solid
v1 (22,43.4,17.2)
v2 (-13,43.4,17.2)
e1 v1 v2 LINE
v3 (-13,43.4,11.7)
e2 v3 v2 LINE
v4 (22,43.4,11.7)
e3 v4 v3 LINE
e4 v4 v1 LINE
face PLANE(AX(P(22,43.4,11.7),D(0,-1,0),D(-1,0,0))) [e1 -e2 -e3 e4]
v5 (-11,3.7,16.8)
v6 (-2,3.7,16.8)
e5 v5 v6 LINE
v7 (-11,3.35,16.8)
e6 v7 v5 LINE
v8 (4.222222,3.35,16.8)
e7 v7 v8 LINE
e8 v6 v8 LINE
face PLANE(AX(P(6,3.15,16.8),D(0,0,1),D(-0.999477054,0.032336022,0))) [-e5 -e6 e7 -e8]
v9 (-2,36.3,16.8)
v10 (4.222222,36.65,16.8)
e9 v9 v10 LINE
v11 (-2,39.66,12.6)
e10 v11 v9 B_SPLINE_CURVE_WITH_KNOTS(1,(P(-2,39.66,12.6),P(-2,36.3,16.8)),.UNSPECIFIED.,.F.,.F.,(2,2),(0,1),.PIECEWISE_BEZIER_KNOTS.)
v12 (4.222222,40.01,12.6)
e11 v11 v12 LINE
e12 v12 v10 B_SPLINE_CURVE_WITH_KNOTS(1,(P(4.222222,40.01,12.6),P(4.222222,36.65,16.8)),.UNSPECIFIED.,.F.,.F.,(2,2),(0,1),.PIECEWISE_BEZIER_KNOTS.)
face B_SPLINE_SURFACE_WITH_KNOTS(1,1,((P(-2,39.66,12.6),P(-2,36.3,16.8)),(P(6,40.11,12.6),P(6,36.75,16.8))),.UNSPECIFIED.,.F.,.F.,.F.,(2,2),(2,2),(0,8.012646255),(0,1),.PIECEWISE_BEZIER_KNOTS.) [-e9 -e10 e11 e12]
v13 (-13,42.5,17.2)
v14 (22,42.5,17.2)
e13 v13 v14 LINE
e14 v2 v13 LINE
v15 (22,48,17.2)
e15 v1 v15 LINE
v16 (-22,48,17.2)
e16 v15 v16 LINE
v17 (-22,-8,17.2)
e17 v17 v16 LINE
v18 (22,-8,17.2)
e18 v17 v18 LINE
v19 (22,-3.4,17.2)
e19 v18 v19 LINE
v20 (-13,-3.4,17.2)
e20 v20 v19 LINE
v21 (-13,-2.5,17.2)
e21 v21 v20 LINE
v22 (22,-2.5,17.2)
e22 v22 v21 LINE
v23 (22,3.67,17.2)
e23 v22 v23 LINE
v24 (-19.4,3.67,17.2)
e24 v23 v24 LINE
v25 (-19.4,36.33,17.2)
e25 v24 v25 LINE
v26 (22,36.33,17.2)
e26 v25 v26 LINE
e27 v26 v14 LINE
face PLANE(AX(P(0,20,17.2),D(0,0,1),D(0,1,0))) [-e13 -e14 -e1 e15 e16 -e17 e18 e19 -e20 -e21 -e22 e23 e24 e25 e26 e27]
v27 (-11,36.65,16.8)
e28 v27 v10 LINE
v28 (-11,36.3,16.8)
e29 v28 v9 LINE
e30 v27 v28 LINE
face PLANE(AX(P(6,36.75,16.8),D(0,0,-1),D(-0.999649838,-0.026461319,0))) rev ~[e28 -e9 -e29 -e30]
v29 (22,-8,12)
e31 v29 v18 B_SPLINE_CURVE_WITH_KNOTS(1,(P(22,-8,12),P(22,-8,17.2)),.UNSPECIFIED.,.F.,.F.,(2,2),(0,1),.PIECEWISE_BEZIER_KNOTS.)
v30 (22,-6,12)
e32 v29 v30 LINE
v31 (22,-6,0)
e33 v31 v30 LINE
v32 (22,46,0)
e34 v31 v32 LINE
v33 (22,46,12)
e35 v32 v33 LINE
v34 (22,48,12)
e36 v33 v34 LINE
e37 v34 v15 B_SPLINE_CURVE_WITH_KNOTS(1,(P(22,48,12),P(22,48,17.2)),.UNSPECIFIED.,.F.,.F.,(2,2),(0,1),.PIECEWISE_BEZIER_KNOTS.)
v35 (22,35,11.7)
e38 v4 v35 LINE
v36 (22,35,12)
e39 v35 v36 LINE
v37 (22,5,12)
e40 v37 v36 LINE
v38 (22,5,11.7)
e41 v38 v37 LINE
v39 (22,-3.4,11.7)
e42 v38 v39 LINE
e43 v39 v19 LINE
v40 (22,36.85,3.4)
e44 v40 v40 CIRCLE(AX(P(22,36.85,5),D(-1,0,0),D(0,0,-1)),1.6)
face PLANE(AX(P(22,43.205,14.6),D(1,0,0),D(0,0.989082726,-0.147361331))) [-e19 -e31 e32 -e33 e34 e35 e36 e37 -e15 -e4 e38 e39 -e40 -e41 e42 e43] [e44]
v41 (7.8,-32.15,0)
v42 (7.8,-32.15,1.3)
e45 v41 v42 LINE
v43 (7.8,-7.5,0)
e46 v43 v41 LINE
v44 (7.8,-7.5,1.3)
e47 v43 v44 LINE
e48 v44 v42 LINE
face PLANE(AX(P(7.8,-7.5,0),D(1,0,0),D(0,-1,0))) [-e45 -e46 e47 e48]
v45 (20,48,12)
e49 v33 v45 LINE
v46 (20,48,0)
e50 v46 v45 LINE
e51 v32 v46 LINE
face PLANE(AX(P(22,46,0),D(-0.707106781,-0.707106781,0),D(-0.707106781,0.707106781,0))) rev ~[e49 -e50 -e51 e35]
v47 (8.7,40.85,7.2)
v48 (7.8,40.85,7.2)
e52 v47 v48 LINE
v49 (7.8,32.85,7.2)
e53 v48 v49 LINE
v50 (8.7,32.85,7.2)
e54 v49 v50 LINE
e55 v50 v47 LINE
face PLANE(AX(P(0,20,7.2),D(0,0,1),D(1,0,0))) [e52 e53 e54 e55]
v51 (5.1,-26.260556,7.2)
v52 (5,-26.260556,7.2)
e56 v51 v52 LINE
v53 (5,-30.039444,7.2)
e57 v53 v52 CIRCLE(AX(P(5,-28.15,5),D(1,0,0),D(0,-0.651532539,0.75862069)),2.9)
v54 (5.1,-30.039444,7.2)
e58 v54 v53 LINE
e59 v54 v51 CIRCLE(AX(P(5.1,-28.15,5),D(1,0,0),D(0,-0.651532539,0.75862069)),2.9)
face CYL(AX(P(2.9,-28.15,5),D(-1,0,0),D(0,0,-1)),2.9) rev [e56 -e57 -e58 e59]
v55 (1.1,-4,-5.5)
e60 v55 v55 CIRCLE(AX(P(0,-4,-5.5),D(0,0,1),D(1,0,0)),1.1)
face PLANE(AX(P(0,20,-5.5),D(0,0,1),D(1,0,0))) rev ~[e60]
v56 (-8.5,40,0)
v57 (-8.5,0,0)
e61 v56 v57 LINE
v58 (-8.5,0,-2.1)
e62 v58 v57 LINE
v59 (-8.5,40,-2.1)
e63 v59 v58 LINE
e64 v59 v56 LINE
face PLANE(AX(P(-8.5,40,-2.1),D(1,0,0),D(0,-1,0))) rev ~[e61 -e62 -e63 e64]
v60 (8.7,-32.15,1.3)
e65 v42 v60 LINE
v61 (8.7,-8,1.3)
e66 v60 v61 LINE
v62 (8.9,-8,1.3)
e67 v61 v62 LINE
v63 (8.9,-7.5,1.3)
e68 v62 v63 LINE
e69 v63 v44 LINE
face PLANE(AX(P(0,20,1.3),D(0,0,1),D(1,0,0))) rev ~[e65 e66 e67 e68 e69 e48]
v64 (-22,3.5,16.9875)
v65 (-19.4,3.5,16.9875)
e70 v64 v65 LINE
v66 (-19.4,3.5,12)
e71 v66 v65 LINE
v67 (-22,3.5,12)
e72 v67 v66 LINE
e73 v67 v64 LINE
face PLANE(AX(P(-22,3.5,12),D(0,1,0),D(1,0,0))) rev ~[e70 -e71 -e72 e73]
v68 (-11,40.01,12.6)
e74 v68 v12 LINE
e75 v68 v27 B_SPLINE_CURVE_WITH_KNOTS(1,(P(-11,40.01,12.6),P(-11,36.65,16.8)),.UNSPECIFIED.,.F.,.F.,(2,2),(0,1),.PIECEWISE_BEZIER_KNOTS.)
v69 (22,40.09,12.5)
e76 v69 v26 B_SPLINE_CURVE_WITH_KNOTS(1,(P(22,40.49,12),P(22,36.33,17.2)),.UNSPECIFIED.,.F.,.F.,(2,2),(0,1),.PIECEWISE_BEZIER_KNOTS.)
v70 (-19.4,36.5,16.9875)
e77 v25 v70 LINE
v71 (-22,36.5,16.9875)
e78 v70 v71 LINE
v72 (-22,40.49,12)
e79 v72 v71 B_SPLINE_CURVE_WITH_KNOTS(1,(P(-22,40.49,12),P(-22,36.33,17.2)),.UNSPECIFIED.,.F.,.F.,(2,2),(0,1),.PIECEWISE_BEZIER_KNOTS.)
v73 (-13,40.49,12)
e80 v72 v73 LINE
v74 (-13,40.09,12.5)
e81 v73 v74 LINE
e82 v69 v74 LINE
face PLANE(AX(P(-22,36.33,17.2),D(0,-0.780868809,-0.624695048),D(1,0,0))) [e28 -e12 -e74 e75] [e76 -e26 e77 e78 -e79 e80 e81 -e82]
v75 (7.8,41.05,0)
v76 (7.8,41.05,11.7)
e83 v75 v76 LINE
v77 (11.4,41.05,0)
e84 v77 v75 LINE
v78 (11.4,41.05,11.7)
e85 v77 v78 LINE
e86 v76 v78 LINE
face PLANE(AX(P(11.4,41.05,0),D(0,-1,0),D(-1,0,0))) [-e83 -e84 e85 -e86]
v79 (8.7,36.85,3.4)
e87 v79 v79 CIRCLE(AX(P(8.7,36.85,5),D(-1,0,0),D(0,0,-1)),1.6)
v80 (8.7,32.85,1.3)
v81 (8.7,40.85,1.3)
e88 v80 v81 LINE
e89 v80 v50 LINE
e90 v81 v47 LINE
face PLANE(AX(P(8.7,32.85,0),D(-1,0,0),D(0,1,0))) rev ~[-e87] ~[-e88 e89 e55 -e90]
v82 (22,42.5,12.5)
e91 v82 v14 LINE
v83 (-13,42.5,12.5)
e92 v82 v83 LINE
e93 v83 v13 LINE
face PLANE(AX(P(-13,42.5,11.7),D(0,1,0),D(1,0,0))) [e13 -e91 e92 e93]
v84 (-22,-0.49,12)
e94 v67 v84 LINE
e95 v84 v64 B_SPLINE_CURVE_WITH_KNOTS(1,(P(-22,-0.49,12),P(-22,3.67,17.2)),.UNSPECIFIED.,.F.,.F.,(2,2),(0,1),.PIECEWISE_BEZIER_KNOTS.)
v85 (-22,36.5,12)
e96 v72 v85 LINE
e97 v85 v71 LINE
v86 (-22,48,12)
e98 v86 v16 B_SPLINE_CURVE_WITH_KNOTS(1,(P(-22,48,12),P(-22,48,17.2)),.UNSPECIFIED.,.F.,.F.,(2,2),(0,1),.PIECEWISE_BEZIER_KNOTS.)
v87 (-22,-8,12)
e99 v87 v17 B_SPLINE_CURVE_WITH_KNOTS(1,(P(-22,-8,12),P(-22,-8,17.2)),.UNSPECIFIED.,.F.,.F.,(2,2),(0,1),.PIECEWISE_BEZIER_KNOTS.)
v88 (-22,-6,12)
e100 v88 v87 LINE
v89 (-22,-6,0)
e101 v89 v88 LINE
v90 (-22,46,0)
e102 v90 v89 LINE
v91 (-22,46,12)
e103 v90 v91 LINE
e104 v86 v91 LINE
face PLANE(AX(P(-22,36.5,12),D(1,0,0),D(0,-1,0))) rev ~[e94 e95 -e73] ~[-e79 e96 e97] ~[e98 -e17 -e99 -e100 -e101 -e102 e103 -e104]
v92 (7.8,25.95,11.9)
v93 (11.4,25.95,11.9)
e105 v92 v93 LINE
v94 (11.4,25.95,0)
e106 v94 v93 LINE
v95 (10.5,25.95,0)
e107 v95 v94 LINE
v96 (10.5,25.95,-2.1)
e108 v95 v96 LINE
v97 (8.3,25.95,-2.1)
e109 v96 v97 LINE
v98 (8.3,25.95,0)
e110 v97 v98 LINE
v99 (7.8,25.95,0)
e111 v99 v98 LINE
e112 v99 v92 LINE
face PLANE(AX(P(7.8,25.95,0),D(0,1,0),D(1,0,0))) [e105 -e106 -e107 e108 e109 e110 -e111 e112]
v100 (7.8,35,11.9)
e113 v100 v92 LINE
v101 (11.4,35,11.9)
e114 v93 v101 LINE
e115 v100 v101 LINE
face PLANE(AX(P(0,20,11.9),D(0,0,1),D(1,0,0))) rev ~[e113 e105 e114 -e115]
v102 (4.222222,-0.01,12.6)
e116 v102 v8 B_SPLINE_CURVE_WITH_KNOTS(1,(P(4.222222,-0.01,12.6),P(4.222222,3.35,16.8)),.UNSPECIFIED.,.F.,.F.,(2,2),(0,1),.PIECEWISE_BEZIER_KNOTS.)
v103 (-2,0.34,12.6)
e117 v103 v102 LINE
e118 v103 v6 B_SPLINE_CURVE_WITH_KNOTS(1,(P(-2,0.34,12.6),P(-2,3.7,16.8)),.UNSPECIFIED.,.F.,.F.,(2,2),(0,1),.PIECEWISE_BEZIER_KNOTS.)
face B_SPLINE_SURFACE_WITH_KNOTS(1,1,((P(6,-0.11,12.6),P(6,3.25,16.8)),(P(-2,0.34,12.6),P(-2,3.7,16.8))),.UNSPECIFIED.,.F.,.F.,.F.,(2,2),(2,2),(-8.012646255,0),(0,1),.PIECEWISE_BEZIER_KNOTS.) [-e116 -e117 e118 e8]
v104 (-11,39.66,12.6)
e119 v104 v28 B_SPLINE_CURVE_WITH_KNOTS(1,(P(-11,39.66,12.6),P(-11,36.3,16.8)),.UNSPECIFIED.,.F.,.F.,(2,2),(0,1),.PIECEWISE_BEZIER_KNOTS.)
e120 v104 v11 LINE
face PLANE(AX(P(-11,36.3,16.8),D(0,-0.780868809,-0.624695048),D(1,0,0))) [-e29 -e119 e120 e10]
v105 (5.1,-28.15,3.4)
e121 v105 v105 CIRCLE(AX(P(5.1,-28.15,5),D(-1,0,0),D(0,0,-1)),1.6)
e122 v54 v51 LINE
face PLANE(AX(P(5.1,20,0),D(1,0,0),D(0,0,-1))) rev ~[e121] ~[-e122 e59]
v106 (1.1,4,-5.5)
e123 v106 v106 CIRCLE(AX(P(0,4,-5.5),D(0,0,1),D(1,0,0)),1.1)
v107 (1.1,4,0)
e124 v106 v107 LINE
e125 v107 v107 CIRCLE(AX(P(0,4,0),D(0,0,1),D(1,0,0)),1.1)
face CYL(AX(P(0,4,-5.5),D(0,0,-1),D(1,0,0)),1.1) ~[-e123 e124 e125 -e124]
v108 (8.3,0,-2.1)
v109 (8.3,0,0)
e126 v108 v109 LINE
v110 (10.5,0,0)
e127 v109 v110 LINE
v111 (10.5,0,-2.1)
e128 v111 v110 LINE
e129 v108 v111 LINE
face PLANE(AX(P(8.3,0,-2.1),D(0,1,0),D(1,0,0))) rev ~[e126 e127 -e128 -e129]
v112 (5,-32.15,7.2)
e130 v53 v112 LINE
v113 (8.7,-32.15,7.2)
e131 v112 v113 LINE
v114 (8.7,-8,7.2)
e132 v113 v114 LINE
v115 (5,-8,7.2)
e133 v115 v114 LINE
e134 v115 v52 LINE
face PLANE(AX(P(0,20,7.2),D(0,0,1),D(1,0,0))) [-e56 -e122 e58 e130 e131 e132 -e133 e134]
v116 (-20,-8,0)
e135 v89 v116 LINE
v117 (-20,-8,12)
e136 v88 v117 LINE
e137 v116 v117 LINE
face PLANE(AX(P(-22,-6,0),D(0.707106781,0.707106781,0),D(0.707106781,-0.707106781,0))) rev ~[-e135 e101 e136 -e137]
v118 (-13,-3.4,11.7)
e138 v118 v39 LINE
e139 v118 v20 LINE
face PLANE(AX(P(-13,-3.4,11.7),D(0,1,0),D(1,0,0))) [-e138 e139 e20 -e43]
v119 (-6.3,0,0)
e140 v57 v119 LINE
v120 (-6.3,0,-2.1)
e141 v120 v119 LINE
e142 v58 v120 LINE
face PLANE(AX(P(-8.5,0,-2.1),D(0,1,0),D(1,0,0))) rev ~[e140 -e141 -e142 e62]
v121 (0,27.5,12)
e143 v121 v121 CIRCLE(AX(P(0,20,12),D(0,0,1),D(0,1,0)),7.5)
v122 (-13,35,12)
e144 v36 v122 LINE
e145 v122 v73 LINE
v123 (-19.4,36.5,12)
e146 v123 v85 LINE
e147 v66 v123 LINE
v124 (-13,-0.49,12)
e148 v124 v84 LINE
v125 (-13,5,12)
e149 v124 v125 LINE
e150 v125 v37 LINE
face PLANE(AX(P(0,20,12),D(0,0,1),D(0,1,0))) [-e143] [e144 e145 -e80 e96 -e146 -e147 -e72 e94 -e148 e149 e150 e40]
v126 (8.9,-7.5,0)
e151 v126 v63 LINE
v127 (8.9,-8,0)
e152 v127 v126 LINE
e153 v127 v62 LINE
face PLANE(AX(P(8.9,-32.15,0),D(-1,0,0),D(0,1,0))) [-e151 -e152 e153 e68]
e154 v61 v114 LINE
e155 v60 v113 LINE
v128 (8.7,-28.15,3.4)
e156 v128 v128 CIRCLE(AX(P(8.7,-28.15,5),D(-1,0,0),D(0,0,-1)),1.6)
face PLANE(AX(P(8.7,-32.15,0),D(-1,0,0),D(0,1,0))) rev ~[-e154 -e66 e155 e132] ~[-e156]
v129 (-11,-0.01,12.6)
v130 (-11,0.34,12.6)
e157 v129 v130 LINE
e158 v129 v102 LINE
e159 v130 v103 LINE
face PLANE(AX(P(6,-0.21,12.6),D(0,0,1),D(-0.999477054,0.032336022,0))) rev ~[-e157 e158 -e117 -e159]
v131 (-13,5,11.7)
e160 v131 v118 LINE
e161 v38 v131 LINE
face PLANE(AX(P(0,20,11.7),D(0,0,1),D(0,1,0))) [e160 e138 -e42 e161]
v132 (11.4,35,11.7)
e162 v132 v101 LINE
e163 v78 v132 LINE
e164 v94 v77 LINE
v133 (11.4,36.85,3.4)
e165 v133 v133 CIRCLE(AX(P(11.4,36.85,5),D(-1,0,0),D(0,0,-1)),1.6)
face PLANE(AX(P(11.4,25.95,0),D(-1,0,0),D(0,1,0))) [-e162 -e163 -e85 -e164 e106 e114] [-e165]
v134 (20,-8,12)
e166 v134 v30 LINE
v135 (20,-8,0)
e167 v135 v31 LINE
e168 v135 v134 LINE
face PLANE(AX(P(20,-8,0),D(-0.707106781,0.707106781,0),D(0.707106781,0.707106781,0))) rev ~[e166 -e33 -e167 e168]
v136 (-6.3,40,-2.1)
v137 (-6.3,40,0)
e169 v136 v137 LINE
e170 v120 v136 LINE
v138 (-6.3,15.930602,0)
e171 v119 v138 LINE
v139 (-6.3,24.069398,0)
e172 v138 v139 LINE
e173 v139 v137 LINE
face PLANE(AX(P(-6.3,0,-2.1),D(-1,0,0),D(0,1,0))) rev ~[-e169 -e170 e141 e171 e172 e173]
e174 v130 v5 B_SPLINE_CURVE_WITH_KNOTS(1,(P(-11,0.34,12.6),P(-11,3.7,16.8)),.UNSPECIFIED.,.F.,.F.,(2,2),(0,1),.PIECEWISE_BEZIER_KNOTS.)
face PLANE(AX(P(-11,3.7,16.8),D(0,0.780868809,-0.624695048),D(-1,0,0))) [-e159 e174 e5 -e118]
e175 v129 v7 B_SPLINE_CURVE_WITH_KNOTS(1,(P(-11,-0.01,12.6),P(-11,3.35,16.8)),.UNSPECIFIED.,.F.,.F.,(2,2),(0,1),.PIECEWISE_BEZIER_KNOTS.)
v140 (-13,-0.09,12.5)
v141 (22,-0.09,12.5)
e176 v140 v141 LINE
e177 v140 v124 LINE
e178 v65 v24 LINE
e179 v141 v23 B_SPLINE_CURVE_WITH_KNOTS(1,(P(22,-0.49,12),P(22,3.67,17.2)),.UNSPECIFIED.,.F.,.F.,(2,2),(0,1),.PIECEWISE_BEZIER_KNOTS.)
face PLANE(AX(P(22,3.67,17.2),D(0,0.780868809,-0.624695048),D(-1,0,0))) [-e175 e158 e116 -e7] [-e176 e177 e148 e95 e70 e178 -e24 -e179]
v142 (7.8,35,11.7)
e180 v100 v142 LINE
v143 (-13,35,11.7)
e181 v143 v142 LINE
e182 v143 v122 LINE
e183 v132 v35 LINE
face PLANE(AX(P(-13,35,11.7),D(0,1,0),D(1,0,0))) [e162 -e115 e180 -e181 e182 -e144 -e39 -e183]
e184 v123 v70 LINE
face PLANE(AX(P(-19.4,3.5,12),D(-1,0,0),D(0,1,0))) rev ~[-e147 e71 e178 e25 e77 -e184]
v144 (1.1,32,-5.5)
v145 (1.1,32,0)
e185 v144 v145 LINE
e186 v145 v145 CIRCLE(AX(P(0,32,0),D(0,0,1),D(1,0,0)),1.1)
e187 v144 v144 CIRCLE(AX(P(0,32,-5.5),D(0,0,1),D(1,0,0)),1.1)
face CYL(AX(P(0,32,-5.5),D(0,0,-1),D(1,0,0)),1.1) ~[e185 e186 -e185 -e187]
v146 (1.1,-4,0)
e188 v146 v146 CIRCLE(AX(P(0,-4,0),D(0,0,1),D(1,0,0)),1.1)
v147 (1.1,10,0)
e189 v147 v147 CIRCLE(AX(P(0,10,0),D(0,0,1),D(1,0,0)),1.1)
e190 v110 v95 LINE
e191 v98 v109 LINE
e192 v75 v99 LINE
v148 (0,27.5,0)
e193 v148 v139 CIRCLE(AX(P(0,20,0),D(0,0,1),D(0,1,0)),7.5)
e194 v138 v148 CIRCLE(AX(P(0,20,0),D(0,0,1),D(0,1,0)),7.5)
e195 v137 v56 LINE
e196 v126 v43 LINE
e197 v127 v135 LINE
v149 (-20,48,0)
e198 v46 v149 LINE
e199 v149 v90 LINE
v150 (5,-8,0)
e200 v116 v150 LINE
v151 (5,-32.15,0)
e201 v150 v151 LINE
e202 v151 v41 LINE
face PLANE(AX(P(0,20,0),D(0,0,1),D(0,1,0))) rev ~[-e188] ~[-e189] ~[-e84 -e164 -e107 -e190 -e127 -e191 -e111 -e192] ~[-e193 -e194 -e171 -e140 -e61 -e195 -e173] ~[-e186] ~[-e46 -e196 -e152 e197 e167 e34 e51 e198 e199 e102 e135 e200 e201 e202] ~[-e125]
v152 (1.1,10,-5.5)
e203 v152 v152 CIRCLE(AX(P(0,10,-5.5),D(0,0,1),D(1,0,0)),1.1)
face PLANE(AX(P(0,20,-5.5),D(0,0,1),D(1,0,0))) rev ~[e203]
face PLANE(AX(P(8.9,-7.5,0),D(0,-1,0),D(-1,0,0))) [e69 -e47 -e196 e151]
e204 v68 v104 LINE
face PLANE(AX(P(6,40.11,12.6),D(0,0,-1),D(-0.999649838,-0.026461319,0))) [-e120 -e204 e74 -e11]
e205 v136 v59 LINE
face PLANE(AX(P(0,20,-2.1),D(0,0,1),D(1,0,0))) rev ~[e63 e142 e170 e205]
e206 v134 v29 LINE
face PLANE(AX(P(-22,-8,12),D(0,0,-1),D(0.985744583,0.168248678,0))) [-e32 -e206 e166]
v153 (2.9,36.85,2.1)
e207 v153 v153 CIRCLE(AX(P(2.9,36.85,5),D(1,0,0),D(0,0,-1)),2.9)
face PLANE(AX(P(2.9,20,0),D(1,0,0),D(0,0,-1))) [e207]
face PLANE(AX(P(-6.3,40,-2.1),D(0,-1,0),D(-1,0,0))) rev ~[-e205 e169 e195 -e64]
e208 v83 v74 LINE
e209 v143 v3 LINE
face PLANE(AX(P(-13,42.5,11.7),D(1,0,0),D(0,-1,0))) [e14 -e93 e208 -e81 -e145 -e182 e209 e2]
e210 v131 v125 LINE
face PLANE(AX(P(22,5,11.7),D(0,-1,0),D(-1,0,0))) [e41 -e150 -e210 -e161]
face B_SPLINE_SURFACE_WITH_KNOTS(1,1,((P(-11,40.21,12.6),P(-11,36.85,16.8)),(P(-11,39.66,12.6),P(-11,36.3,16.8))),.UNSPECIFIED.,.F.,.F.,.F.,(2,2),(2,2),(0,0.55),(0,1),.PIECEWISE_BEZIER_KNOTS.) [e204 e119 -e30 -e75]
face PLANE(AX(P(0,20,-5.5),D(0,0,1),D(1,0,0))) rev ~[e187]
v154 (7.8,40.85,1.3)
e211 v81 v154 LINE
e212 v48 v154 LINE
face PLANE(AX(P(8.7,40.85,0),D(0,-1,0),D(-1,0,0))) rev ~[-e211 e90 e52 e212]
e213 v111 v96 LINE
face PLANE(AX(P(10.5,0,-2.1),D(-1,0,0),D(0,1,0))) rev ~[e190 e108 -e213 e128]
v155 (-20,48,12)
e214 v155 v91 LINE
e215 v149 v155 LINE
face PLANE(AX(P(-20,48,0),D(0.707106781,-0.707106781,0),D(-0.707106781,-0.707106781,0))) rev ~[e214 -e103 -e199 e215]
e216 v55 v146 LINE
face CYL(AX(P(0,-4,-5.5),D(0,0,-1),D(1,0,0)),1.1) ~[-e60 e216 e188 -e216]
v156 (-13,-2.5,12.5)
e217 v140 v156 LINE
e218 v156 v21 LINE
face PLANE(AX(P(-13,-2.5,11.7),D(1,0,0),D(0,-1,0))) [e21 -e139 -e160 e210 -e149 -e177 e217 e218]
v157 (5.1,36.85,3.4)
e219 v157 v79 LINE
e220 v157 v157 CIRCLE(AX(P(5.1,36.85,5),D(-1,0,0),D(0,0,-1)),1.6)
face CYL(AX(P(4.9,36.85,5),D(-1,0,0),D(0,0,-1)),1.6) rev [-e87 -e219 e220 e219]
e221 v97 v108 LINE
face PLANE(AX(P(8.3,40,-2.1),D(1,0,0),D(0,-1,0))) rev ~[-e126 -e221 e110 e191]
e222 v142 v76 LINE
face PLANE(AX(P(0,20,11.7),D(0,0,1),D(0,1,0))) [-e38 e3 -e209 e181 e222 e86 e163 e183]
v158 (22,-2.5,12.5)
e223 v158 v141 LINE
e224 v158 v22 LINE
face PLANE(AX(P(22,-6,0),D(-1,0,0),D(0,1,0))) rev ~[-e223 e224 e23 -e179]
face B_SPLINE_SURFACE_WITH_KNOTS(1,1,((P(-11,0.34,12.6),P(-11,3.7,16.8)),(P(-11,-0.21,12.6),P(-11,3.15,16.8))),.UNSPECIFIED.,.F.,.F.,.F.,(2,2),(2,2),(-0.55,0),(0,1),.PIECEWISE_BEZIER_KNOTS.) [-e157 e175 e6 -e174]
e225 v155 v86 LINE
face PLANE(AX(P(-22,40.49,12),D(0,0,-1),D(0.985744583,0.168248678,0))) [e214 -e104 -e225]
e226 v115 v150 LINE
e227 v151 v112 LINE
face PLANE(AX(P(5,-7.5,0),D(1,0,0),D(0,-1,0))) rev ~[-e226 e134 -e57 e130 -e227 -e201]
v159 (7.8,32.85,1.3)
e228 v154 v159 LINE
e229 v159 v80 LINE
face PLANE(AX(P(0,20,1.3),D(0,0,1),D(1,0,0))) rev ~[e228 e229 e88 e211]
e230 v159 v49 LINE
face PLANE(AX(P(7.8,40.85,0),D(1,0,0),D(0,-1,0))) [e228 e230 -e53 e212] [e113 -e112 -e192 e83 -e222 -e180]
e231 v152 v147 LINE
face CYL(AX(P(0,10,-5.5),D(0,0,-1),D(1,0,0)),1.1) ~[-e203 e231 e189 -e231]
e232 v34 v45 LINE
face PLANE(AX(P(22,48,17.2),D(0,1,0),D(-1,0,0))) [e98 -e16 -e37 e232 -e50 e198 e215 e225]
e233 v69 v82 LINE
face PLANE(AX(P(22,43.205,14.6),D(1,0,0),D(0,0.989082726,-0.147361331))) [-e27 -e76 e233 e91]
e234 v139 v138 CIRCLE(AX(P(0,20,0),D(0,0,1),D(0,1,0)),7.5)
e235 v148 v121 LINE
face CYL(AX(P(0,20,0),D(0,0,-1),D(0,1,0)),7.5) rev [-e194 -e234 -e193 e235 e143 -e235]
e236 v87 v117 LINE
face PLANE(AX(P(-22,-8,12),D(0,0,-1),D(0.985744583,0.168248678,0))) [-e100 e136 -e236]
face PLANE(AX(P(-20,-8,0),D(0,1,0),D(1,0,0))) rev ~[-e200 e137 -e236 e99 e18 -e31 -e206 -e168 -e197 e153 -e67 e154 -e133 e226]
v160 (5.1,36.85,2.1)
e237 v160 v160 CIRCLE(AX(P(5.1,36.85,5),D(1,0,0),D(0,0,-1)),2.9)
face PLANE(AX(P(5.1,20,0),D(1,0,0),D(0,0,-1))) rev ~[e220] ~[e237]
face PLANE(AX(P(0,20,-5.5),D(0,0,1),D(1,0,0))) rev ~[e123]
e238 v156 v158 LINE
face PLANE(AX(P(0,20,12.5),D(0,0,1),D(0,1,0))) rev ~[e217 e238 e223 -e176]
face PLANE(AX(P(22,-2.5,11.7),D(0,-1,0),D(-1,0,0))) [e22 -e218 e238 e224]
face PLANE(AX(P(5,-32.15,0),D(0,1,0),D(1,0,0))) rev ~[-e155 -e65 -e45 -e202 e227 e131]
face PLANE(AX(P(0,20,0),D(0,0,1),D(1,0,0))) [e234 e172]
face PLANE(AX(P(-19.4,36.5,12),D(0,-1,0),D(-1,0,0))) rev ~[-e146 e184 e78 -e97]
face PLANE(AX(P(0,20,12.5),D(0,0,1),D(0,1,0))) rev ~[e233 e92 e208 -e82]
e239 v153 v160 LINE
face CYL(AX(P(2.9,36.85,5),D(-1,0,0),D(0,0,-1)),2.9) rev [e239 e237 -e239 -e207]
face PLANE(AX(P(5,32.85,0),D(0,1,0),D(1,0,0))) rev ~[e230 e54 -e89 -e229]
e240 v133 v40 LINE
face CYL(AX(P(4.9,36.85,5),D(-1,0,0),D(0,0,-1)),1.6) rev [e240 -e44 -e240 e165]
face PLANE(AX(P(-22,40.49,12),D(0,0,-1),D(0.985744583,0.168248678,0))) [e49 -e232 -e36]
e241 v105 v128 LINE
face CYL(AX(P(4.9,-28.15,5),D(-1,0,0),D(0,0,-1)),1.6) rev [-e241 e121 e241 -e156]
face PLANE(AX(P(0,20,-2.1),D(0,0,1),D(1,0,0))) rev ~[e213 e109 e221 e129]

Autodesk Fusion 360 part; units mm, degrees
ref_plane "工作平面1" through (0, 0, 0) normal (0, 0, 1) x (1, 0, 0)
sketch "草图1" plane through (0, 0, 0) normal (0, 0, 1) x (1, 0, 0)
  line L0 (-26, -22) -> (26, -22)
  line L1 (26, -22) -> (28, -20)
  line L2 (28, -20) -> (28, 20)
  line L3 (28, 20) -> (26, 22)
  line L4 (26, 22) -> (-26, 22)
  line L5 (-26, 22) -> (-28, 20)
  line L6 (-28, 20) -> (-28, -20)
  line L7 (-28, -20) -> (-26, -22)
extrude "56 x 44 x 7 platform" add sketch "草图1" along normal blind 12
ref_plane "工作平面2" through (0, 0, 12) normal (0, 0, 1) x (1, 0, 0)
sketch "草图2" plane through (0, 0, 12) normal (0, 0, 1) x (1, 0, 0)
  line L0 (-28, -22) -> (-20.49, -22)
  line L1 (-20.49, -22) -> (-20.49, 22)
  line L2 (-20.49, 22) -> (-28, 22)
  line L3 (-28, 22) -> (-28, -22)
ref_plane "工作平面3" through (0, 0, 17.2) normal (0, 0, 1) x (1, 0, 0)
sketch "草图3" plane through (0, 0, 17.2) normal (0, 0, 1) x (1, 0, 0)
  line L0 (-28, -22) -> (-16.33, -22)
  line L1 (-16.33, -22) -> (-16.33, 22)
  line L2 (-16.33, 22) -> (-28, 22)
  line L3 (-28, 22) -> (-28, -22)
loft "Dovetail retaining rail 0.8 to 1 -1" add profiles "草图2", "草图3" section 1 section 2
ref_plane "工作平面4" through (0, 0, 11.7) normal (0, 0, 1) x (1, 0, 0)
sketch "草图4" plane through (0, 0, 11.7) normal (0, 0, 1) x (1, 0, 0)
  line L0 (-23.4, -22) -> (-22.5, -22)
  line L1 (-22.5, -22) -> (-22.5, 13)
  line L2 (-22.5, 13) -> (-23.4, 13)
  line L3 (-23.4, 13) -> (-23.4, -22)
extrude "0.9 mm longitudinal flexure slot -1" cut sketch "草图4" along normal blind 5.8
ref_plane "工作平面5" through (0, 0, 11.7) normal (0, 0, 1) x (1, 0, 0)
sketch "草图5" plane through (0, 0, 11.7) normal (0, 0, 1) x (1, 0, 0)
  line L0 (-22.5, -22) -> (-15, -22)
  line L1 (-15, -22) -> (-15, 13)
  line L2 (-15, 13) -> (-22.5, 13)
  line L3 (-22.5, 13) -> (-22.5, -22)
extrude "0.8 mm flexure underside relief -1" cut sketch "草图5" along normal blind 0.8
ref_plane "工作平面6" through (0, 0, 12.6) normal (0, 0, 1) x (1, 0, 0)
sketch "草图6" plane through (0, 0, 12.6) normal (0, 0, 1) x (1, 0, 0)
  line L0 (-20.21, -6) -> (-20.21, 11)
  line L1 (-20.21, 11) -> (-19.66, 11)
  line L2 (-19.66, 11) -> (-19.66, 2)
  line L3 (-19.66, 2) -> (-20.11, -6)
  line L4 (-20.11, -6) -> (-20.21, -6)
ref_plane "工作平面7" through (0, 0, 16.8) normal (0, 0, 1) x (1, 0, 0)
sketch "草图7" plane through (0, 0, 16.8) normal (0, 0, 1) x (1, 0, 0)
  line L0 (-16.85, -6) -> (-16.85, 11)
  line L1 (-16.85, 11) -> (-16.3, 11)
  line L2 (-16.3, 11) -> (-16.3, 2)
  line L3 (-16.3, 2) -> (-16.75, -6)
  line L4 (-16.75, -6) -> (-16.85, -6)
loft "Tapered friction contact rib -1" add profiles "草图6", "草图7" section 1 section 2
ref_plane "工作平面8" through (0, 0, 12) normal (0, 0, 1) x (1, 0, 0)
sketch "草图8" plane through (0, 0, 12) normal (0, 0, 1) x (1, 0, 0)
  line L0 (20.49, -22) -> (28, -22)
  line L1 (28, -22) -> (28, 22)
  line L2 (28, 22) -> (20.49, 22)
  line L3 (20.49, 22) -> (20.49, -22)
ref_plane "工作平面9" through (0, 0, 17.2) normal (0, 0, 1) x (1, 0, 0)
sketch "草图9" plane through (0, 0, 17.2) normal (0, 0, 1) x (1, 0, 0)
  line L0 (16.33, -22) -> (28, -22)
  line L1 (28, -22) -> (28, 22)
  line L2 (28, 22) -> (16.33, 22)
  line L3 (16.33, 22) -> (16.33, -22)
loft "Dovetail retaining rail 0.8 to 1 1" add profiles "草图8", "草图9" section 1 section 2
ref_plane "工作平面10" through (0, 0, 11.7) normal (0, 0, 1) x (1, 0, 0)
sketch "草图10" plane through (0, 0, 11.7) normal (0, 0, 1) x (1, 0, 0)
  line L0 (22.5, -22) -> (23.4, -22)
  line L1 (23.4, -22) -> (23.4, 13)
  line L2 (23.4, 13) -> (22.5, 13)
  line L3 (22.5, 13) -> (22.5, -22)
extrude "0.9 mm longitudinal flexure slot 1" cut sketch "草图10" along normal blind 5.8
ref_plane "工作平面11" through (0, 0, 11.7) normal (0, 0, 1) x (1, 0, 0)
sketch "草图11" plane through (0, 0, 11.7) normal (0, 0, 1) x (1, 0, 0)
  line L0 (15, -22) -> (22.5, -22)
  line L1 (22.5, -22) -> (22.5, 13)
  line L2 (22.5, 13) -> (15, 13)
  line L3 (15, 13) -> (15, -22)
extrude "0.8 mm flexure underside relief 1" cut sketch "草图11" along normal blind 0.8
ref_plane "工作平面12" through (0, 0, 12.6) normal (0, 0, 1) x (1, 0, 0)
sketch "草图12" plane through (0, 0, 12.6) normal (0, 0, 1) x (1, 0, 0)
  line L0 (20.21, -6) -> (20.21, 11)
  line L1 (20.21, 11) -> (19.66, 11)
  line L2 (19.66, 11) -> (19.66, 2)
  line L3 (19.66, 2) -> (20.11, -6)
  line L4 (20.11, -6) -> (20.21, -6)
ref_plane "工作平面13" through (0, 0, 16.8) normal (0, 0, 1) x (1, 0, 0)
sketch "草图13" plane through (0, 0, 16.8) normal (0, 0, 1) x (1, 0, 0)
  line L0 (16.85, -6) -> (16.85, 11)
  line L1 (16.85, 11) -> (16.3, 11)
  line L2 (16.3, 11) -> (16.3, 2)
  line L3 (16.3, 2) -> (16.75, -6)
  line L4 (16.75, -6) -> (16.85, -6)
loft "Tapered friction contact rib 1" add profiles "草图12", "草图13" section 1 section 2
ref_plane "工作平面14" through (0, 0, 12) normal (0, 0, 1) x (1, 0, 0)
sketch "草图14" plane through (0, 0, 12) normal (0, 0, 1) x (1, 0, 0)
  line L0 (-16.5, 19.4) -> (16.5, 19.4)
  line L1 (16.5, 19.4) -> (16.5, 22)
  line L2 (16.5, 22) -> (-16.5, 22)
  line L3 (-16.5, 22) -> (-16.5, 19.4)
extrude "Closed insertion end stop" add sketch "草图14" along normal blind 5.2
ref_plane "工作平面15" through (0, 0, 0) normal (0, 0, 1) x (1, 0, 0)
sketch "草图15" plane through (0, 0, 0) normal (0, 0, 1) x (1, 0, 0)
  circle A0 centre (0, 0) radius 7.5
extrude "15 mm screw and driver access" cut sketch "草图15" along normal blind 12
move_body "Align camera long edge with gimbal arm - 90 degrees" bodies 1 to x (0, 1, 0) y (-1, 0, 0) z (0, 0, 1) at (0, 0, 0)
ref_plane "工作平面16" through (0, 0, 0) normal (0, 0, 1) x (1, 0, 0)
sketch "草图16" plane through (0, 0, 0) normal (0, 0, 1) x (1, 0, 0)
  line L0 (7.8, 5.95) -> (11.4, 5.95)
  line L1 (11.4, 5.95) -> (11.4, 21.05)
  line L2 (11.4, 21.05) -> (7.8, 21.05)
  line L3 (7.8, 21.05) -> (7.8, 5.95)
extrude "Clear original raised tab and root fillet" cut sketch "草图16" along normal blind 11.9
ref_plane "工作平面17" through (0, 0, -2.1) normal (0, 0, 1) x (1, 0, 0)
sketch "草图17" plane through (0, 0, -2.1) normal (0, 0, 1) x (1, 0, 0)
  line L0 (-8.5, -20) -> (-6.3, -20)
  line L1 (-6.3, -20) -> (-6.3, 20)
  line L2 (-6.3, 20) -> (-8.5, 20)
  line L3 (-8.5, 20) -> (-8.5, -20)
extrude "Arm lateral locating shoulder" add sketch "草图17" along normal blind 2.1
ref_plane "工作平面18" through (0, 0, -2.1) normal (0, 0, 1) x (1, 0, 0)
sketch "草图18" plane through (0, 0, -2.1) normal (0, 0, 1) x (1, 0, 0)
  line L0 (8.3, -20) -> (10.5, -20)
  line L1 (10.5, -20) -> (10.5, 20)
  line L2 (10.5, 20) -> (8.3, 20)
  line L3 (8.3, 20) -> (8.3, -20)
extrude "Arm lateral locating shoulder (1)" add sketch "草图18" along normal blind 2.1
ref_plane "工作平面19" through (0, 0, -5.5) normal (0, 0, 1) x (1, 0, 0)
sketch "草图19" plane through (0, 0, -5.5) normal (0, 0, 1) x (1, 0, 0)
  circle A0 centre (0, -24) radius 1.1
extrude "Reinforced 2.2 x 5.5 mm heat stake pin at arm y -4" add sketch "草图19" along normal blind 5.5
ref_plane "工作平面20" through (0, 0, -5.5) normal (0, 0, 1) x (1, 0, 0)
sketch "草图20" plane through (0, 0, -5.5) normal (0, 0, 1) x (1, 0, 0)
  circle A0 centre (0, -16) radius 1.1
extrude "Reinforced 2.2 x 5.5 mm heat stake pin at arm y 4" add sketch "草图20" along normal blind 5.5
ref_plane "工作平面21" through (0, 0, -5.5) normal (0, 0, 1) x (1, 0, 0)
sketch "草图21" plane through (0, 0, -5.5) normal (0, 0, 1) x (1, 0, 0)
  circle A0 centre (0, -10) radius 1.1
extrude "Reinforced 2.2 x 5.5 mm heat stake pin at arm y 10" add sketch "草图21" along normal blind 5.5
ref_plane "工作平面22" through (0, 0, -5.5) normal (0, 0, 1) x (1, 0, 0)
sketch "草图22" plane through (0, 0, -5.5) normal (0, 0, 1) x (1, 0, 0)
  circle A0 centre (0, 12) radius 1.1
extrude "Reinforced 2.2 x 5.5 mm heat stake pin at arm y 32" add sketch "草图22" along normal blind 5.5
ref_plane "工作平面23" through (0, 0, 0) normal (0, 0, 1) x (1, 0, 0)
sketch "草图23" plane through (0, 0, 0) normal (0, 0, 1) x (1, 0, 0)
  line L0 (5, -52.15) -> (8.7, -52.15)
  line L1 (8.7, -52.15) -> (8.7, -27.5)
  line L2 (8.7, -27.5) -> (5, -27.5)
  line L3 (5, -27.5) -> (5, -52.15)
extrude "Ear for original 3.2 mm side hole at arm y -28.15" add sketch "草图23" along normal blind 7.2
ref_plane "工作平面24" through (0, 0, 0) normal (0, 0, 1) x (1, 0, 0)
sketch "草图24" plane through (0, 0, 0) normal (0, 0, 1) x (1, 0, 0)
  line L0 (7.8, -52.15) -> (8.9, -52.15)
  line L1 (8.9, -52.15) -> (8.9, -27.5)
  line L2 (8.9, -27.5) -> (7.8, -27.5)
  line L3 (7.8, -27.5) -> (7.8, -52.15)
extrude "Ear relief around original arm root radius" cut sketch "草图24" along normal blind 1.3
ref_plane "工作平面25" through (4.9, 0, 0) normal (1, 0, 0) x (0, 1, 0)
sketch "草图25" plane through (4.9, 0, 0) normal (1, 0, 0) x (0, 0, -1)
  circle A0 centre (-5, -48.15) radius 1.6
extrude "Side rivet full passage clearance" cut sketch "草图25" along normal blind 20
ref_plane "工作平面26" through (2.9, 0, 0) normal (1, 0, 0) x (0, 1, 0)
sketch "草图26" plane through (2.9, 0, 0) normal (1, 0, 0) x (0, 0, -1)
  circle A0 centre (-5, -48.15) radius 2.9
extrude "Side rivet flange counterbore" cut sketch "草图26" along normal blind 2.2
ref_plane "工作平面27" through (0, 0, 0) normal (0, 0, 1) x (1, 0, 0)
sketch "草图27" plane through (0, 0, 0) normal (0, 0, 1) x (1, 0, 0)
  line L0 (5, 12.85) -> (8.7, 12.85)
  line L1 (8.7, 12.85) -> (8.7, 20.85)
  line L2 (8.7, 20.85) -> (5, 20.85)
  line L3 (5, 20.85) -> (5, 12.85)
extrude "Ear for original 3.2 mm side hole at arm y 36.85" add sketch "草图27" along normal blind 7.2
ref_plane "工作平面28" through (0, 0, 0) normal (0, 0, 1) x (1, 0, 0)
sketch "草图28" plane through (0, 0, 0) normal (0, 0, 1) x (1, 0, 0)
  line L0 (7.8, 12.85) -> (8.9, 12.85)
  line L1 (8.9, 12.85) -> (8.9, 20.85)
  line L2 (8.9, 20.85) -> (7.8, 20.85)
  line L3 (7.8, 20.85) -> (7.8, 12.85)
extrude "Ear relief around original arm root radius (1)" cut sketch "草图28" along normal blind 1.3
ref_plane "工作平面29" through (4.9, 0, 0) normal (1, 0, 0) x (0, 1, 0)
sketch "草图29" plane through (4.9, 0, 0) normal (1, 0, 0) x (0, 0, -1)
  circle A0 centre (-5, 16.85) radius 1.6
extrude "Side rivet full passage clearance (1)" cut sketch "草图29" along normal blind 20
ref_plane "工作平面30" through (2.9, 0, 0) normal (1, 0, 0) x (0, 1, 0)
sketch "草图30" plane through (2.9, 0, 0) normal (1, 0, 0) x (0, 0, -1)
  circle A0 centre (-5, 16.85) radius 2.9
extrude "Side rivet flange counterbore (1)" cut sketch "草图30" along normal blind 2.2
move_body "Move outward toward free end 20.0 mm" bodies 1 to x (1, 0, 0) y (0, 1, 0) z (0, 0, 1) at (0, 20, 0)
ref_plane "工作平面31" through (0, 0, -2.11) normal (0, 0, 1) x (1, 0, 0)
sketch "草图31" plane through (0, 0, -2.11) normal (0, 0, 1) x (1, 0, 0)
  line L0 (8.29, 25.95) -> (10.51, 25.95)
  line L1 (10.51, 25.95) -> (10.51, 40.05)
  line L2 (10.51, 40.05) -> (8.29, 40.05)
  line L3 (8.29, 40.05) -> (8.29, 25.95)
extrude "Trim locating shoulder before raised side ear root" cut sketch "草图31" along normal blind 2.11
